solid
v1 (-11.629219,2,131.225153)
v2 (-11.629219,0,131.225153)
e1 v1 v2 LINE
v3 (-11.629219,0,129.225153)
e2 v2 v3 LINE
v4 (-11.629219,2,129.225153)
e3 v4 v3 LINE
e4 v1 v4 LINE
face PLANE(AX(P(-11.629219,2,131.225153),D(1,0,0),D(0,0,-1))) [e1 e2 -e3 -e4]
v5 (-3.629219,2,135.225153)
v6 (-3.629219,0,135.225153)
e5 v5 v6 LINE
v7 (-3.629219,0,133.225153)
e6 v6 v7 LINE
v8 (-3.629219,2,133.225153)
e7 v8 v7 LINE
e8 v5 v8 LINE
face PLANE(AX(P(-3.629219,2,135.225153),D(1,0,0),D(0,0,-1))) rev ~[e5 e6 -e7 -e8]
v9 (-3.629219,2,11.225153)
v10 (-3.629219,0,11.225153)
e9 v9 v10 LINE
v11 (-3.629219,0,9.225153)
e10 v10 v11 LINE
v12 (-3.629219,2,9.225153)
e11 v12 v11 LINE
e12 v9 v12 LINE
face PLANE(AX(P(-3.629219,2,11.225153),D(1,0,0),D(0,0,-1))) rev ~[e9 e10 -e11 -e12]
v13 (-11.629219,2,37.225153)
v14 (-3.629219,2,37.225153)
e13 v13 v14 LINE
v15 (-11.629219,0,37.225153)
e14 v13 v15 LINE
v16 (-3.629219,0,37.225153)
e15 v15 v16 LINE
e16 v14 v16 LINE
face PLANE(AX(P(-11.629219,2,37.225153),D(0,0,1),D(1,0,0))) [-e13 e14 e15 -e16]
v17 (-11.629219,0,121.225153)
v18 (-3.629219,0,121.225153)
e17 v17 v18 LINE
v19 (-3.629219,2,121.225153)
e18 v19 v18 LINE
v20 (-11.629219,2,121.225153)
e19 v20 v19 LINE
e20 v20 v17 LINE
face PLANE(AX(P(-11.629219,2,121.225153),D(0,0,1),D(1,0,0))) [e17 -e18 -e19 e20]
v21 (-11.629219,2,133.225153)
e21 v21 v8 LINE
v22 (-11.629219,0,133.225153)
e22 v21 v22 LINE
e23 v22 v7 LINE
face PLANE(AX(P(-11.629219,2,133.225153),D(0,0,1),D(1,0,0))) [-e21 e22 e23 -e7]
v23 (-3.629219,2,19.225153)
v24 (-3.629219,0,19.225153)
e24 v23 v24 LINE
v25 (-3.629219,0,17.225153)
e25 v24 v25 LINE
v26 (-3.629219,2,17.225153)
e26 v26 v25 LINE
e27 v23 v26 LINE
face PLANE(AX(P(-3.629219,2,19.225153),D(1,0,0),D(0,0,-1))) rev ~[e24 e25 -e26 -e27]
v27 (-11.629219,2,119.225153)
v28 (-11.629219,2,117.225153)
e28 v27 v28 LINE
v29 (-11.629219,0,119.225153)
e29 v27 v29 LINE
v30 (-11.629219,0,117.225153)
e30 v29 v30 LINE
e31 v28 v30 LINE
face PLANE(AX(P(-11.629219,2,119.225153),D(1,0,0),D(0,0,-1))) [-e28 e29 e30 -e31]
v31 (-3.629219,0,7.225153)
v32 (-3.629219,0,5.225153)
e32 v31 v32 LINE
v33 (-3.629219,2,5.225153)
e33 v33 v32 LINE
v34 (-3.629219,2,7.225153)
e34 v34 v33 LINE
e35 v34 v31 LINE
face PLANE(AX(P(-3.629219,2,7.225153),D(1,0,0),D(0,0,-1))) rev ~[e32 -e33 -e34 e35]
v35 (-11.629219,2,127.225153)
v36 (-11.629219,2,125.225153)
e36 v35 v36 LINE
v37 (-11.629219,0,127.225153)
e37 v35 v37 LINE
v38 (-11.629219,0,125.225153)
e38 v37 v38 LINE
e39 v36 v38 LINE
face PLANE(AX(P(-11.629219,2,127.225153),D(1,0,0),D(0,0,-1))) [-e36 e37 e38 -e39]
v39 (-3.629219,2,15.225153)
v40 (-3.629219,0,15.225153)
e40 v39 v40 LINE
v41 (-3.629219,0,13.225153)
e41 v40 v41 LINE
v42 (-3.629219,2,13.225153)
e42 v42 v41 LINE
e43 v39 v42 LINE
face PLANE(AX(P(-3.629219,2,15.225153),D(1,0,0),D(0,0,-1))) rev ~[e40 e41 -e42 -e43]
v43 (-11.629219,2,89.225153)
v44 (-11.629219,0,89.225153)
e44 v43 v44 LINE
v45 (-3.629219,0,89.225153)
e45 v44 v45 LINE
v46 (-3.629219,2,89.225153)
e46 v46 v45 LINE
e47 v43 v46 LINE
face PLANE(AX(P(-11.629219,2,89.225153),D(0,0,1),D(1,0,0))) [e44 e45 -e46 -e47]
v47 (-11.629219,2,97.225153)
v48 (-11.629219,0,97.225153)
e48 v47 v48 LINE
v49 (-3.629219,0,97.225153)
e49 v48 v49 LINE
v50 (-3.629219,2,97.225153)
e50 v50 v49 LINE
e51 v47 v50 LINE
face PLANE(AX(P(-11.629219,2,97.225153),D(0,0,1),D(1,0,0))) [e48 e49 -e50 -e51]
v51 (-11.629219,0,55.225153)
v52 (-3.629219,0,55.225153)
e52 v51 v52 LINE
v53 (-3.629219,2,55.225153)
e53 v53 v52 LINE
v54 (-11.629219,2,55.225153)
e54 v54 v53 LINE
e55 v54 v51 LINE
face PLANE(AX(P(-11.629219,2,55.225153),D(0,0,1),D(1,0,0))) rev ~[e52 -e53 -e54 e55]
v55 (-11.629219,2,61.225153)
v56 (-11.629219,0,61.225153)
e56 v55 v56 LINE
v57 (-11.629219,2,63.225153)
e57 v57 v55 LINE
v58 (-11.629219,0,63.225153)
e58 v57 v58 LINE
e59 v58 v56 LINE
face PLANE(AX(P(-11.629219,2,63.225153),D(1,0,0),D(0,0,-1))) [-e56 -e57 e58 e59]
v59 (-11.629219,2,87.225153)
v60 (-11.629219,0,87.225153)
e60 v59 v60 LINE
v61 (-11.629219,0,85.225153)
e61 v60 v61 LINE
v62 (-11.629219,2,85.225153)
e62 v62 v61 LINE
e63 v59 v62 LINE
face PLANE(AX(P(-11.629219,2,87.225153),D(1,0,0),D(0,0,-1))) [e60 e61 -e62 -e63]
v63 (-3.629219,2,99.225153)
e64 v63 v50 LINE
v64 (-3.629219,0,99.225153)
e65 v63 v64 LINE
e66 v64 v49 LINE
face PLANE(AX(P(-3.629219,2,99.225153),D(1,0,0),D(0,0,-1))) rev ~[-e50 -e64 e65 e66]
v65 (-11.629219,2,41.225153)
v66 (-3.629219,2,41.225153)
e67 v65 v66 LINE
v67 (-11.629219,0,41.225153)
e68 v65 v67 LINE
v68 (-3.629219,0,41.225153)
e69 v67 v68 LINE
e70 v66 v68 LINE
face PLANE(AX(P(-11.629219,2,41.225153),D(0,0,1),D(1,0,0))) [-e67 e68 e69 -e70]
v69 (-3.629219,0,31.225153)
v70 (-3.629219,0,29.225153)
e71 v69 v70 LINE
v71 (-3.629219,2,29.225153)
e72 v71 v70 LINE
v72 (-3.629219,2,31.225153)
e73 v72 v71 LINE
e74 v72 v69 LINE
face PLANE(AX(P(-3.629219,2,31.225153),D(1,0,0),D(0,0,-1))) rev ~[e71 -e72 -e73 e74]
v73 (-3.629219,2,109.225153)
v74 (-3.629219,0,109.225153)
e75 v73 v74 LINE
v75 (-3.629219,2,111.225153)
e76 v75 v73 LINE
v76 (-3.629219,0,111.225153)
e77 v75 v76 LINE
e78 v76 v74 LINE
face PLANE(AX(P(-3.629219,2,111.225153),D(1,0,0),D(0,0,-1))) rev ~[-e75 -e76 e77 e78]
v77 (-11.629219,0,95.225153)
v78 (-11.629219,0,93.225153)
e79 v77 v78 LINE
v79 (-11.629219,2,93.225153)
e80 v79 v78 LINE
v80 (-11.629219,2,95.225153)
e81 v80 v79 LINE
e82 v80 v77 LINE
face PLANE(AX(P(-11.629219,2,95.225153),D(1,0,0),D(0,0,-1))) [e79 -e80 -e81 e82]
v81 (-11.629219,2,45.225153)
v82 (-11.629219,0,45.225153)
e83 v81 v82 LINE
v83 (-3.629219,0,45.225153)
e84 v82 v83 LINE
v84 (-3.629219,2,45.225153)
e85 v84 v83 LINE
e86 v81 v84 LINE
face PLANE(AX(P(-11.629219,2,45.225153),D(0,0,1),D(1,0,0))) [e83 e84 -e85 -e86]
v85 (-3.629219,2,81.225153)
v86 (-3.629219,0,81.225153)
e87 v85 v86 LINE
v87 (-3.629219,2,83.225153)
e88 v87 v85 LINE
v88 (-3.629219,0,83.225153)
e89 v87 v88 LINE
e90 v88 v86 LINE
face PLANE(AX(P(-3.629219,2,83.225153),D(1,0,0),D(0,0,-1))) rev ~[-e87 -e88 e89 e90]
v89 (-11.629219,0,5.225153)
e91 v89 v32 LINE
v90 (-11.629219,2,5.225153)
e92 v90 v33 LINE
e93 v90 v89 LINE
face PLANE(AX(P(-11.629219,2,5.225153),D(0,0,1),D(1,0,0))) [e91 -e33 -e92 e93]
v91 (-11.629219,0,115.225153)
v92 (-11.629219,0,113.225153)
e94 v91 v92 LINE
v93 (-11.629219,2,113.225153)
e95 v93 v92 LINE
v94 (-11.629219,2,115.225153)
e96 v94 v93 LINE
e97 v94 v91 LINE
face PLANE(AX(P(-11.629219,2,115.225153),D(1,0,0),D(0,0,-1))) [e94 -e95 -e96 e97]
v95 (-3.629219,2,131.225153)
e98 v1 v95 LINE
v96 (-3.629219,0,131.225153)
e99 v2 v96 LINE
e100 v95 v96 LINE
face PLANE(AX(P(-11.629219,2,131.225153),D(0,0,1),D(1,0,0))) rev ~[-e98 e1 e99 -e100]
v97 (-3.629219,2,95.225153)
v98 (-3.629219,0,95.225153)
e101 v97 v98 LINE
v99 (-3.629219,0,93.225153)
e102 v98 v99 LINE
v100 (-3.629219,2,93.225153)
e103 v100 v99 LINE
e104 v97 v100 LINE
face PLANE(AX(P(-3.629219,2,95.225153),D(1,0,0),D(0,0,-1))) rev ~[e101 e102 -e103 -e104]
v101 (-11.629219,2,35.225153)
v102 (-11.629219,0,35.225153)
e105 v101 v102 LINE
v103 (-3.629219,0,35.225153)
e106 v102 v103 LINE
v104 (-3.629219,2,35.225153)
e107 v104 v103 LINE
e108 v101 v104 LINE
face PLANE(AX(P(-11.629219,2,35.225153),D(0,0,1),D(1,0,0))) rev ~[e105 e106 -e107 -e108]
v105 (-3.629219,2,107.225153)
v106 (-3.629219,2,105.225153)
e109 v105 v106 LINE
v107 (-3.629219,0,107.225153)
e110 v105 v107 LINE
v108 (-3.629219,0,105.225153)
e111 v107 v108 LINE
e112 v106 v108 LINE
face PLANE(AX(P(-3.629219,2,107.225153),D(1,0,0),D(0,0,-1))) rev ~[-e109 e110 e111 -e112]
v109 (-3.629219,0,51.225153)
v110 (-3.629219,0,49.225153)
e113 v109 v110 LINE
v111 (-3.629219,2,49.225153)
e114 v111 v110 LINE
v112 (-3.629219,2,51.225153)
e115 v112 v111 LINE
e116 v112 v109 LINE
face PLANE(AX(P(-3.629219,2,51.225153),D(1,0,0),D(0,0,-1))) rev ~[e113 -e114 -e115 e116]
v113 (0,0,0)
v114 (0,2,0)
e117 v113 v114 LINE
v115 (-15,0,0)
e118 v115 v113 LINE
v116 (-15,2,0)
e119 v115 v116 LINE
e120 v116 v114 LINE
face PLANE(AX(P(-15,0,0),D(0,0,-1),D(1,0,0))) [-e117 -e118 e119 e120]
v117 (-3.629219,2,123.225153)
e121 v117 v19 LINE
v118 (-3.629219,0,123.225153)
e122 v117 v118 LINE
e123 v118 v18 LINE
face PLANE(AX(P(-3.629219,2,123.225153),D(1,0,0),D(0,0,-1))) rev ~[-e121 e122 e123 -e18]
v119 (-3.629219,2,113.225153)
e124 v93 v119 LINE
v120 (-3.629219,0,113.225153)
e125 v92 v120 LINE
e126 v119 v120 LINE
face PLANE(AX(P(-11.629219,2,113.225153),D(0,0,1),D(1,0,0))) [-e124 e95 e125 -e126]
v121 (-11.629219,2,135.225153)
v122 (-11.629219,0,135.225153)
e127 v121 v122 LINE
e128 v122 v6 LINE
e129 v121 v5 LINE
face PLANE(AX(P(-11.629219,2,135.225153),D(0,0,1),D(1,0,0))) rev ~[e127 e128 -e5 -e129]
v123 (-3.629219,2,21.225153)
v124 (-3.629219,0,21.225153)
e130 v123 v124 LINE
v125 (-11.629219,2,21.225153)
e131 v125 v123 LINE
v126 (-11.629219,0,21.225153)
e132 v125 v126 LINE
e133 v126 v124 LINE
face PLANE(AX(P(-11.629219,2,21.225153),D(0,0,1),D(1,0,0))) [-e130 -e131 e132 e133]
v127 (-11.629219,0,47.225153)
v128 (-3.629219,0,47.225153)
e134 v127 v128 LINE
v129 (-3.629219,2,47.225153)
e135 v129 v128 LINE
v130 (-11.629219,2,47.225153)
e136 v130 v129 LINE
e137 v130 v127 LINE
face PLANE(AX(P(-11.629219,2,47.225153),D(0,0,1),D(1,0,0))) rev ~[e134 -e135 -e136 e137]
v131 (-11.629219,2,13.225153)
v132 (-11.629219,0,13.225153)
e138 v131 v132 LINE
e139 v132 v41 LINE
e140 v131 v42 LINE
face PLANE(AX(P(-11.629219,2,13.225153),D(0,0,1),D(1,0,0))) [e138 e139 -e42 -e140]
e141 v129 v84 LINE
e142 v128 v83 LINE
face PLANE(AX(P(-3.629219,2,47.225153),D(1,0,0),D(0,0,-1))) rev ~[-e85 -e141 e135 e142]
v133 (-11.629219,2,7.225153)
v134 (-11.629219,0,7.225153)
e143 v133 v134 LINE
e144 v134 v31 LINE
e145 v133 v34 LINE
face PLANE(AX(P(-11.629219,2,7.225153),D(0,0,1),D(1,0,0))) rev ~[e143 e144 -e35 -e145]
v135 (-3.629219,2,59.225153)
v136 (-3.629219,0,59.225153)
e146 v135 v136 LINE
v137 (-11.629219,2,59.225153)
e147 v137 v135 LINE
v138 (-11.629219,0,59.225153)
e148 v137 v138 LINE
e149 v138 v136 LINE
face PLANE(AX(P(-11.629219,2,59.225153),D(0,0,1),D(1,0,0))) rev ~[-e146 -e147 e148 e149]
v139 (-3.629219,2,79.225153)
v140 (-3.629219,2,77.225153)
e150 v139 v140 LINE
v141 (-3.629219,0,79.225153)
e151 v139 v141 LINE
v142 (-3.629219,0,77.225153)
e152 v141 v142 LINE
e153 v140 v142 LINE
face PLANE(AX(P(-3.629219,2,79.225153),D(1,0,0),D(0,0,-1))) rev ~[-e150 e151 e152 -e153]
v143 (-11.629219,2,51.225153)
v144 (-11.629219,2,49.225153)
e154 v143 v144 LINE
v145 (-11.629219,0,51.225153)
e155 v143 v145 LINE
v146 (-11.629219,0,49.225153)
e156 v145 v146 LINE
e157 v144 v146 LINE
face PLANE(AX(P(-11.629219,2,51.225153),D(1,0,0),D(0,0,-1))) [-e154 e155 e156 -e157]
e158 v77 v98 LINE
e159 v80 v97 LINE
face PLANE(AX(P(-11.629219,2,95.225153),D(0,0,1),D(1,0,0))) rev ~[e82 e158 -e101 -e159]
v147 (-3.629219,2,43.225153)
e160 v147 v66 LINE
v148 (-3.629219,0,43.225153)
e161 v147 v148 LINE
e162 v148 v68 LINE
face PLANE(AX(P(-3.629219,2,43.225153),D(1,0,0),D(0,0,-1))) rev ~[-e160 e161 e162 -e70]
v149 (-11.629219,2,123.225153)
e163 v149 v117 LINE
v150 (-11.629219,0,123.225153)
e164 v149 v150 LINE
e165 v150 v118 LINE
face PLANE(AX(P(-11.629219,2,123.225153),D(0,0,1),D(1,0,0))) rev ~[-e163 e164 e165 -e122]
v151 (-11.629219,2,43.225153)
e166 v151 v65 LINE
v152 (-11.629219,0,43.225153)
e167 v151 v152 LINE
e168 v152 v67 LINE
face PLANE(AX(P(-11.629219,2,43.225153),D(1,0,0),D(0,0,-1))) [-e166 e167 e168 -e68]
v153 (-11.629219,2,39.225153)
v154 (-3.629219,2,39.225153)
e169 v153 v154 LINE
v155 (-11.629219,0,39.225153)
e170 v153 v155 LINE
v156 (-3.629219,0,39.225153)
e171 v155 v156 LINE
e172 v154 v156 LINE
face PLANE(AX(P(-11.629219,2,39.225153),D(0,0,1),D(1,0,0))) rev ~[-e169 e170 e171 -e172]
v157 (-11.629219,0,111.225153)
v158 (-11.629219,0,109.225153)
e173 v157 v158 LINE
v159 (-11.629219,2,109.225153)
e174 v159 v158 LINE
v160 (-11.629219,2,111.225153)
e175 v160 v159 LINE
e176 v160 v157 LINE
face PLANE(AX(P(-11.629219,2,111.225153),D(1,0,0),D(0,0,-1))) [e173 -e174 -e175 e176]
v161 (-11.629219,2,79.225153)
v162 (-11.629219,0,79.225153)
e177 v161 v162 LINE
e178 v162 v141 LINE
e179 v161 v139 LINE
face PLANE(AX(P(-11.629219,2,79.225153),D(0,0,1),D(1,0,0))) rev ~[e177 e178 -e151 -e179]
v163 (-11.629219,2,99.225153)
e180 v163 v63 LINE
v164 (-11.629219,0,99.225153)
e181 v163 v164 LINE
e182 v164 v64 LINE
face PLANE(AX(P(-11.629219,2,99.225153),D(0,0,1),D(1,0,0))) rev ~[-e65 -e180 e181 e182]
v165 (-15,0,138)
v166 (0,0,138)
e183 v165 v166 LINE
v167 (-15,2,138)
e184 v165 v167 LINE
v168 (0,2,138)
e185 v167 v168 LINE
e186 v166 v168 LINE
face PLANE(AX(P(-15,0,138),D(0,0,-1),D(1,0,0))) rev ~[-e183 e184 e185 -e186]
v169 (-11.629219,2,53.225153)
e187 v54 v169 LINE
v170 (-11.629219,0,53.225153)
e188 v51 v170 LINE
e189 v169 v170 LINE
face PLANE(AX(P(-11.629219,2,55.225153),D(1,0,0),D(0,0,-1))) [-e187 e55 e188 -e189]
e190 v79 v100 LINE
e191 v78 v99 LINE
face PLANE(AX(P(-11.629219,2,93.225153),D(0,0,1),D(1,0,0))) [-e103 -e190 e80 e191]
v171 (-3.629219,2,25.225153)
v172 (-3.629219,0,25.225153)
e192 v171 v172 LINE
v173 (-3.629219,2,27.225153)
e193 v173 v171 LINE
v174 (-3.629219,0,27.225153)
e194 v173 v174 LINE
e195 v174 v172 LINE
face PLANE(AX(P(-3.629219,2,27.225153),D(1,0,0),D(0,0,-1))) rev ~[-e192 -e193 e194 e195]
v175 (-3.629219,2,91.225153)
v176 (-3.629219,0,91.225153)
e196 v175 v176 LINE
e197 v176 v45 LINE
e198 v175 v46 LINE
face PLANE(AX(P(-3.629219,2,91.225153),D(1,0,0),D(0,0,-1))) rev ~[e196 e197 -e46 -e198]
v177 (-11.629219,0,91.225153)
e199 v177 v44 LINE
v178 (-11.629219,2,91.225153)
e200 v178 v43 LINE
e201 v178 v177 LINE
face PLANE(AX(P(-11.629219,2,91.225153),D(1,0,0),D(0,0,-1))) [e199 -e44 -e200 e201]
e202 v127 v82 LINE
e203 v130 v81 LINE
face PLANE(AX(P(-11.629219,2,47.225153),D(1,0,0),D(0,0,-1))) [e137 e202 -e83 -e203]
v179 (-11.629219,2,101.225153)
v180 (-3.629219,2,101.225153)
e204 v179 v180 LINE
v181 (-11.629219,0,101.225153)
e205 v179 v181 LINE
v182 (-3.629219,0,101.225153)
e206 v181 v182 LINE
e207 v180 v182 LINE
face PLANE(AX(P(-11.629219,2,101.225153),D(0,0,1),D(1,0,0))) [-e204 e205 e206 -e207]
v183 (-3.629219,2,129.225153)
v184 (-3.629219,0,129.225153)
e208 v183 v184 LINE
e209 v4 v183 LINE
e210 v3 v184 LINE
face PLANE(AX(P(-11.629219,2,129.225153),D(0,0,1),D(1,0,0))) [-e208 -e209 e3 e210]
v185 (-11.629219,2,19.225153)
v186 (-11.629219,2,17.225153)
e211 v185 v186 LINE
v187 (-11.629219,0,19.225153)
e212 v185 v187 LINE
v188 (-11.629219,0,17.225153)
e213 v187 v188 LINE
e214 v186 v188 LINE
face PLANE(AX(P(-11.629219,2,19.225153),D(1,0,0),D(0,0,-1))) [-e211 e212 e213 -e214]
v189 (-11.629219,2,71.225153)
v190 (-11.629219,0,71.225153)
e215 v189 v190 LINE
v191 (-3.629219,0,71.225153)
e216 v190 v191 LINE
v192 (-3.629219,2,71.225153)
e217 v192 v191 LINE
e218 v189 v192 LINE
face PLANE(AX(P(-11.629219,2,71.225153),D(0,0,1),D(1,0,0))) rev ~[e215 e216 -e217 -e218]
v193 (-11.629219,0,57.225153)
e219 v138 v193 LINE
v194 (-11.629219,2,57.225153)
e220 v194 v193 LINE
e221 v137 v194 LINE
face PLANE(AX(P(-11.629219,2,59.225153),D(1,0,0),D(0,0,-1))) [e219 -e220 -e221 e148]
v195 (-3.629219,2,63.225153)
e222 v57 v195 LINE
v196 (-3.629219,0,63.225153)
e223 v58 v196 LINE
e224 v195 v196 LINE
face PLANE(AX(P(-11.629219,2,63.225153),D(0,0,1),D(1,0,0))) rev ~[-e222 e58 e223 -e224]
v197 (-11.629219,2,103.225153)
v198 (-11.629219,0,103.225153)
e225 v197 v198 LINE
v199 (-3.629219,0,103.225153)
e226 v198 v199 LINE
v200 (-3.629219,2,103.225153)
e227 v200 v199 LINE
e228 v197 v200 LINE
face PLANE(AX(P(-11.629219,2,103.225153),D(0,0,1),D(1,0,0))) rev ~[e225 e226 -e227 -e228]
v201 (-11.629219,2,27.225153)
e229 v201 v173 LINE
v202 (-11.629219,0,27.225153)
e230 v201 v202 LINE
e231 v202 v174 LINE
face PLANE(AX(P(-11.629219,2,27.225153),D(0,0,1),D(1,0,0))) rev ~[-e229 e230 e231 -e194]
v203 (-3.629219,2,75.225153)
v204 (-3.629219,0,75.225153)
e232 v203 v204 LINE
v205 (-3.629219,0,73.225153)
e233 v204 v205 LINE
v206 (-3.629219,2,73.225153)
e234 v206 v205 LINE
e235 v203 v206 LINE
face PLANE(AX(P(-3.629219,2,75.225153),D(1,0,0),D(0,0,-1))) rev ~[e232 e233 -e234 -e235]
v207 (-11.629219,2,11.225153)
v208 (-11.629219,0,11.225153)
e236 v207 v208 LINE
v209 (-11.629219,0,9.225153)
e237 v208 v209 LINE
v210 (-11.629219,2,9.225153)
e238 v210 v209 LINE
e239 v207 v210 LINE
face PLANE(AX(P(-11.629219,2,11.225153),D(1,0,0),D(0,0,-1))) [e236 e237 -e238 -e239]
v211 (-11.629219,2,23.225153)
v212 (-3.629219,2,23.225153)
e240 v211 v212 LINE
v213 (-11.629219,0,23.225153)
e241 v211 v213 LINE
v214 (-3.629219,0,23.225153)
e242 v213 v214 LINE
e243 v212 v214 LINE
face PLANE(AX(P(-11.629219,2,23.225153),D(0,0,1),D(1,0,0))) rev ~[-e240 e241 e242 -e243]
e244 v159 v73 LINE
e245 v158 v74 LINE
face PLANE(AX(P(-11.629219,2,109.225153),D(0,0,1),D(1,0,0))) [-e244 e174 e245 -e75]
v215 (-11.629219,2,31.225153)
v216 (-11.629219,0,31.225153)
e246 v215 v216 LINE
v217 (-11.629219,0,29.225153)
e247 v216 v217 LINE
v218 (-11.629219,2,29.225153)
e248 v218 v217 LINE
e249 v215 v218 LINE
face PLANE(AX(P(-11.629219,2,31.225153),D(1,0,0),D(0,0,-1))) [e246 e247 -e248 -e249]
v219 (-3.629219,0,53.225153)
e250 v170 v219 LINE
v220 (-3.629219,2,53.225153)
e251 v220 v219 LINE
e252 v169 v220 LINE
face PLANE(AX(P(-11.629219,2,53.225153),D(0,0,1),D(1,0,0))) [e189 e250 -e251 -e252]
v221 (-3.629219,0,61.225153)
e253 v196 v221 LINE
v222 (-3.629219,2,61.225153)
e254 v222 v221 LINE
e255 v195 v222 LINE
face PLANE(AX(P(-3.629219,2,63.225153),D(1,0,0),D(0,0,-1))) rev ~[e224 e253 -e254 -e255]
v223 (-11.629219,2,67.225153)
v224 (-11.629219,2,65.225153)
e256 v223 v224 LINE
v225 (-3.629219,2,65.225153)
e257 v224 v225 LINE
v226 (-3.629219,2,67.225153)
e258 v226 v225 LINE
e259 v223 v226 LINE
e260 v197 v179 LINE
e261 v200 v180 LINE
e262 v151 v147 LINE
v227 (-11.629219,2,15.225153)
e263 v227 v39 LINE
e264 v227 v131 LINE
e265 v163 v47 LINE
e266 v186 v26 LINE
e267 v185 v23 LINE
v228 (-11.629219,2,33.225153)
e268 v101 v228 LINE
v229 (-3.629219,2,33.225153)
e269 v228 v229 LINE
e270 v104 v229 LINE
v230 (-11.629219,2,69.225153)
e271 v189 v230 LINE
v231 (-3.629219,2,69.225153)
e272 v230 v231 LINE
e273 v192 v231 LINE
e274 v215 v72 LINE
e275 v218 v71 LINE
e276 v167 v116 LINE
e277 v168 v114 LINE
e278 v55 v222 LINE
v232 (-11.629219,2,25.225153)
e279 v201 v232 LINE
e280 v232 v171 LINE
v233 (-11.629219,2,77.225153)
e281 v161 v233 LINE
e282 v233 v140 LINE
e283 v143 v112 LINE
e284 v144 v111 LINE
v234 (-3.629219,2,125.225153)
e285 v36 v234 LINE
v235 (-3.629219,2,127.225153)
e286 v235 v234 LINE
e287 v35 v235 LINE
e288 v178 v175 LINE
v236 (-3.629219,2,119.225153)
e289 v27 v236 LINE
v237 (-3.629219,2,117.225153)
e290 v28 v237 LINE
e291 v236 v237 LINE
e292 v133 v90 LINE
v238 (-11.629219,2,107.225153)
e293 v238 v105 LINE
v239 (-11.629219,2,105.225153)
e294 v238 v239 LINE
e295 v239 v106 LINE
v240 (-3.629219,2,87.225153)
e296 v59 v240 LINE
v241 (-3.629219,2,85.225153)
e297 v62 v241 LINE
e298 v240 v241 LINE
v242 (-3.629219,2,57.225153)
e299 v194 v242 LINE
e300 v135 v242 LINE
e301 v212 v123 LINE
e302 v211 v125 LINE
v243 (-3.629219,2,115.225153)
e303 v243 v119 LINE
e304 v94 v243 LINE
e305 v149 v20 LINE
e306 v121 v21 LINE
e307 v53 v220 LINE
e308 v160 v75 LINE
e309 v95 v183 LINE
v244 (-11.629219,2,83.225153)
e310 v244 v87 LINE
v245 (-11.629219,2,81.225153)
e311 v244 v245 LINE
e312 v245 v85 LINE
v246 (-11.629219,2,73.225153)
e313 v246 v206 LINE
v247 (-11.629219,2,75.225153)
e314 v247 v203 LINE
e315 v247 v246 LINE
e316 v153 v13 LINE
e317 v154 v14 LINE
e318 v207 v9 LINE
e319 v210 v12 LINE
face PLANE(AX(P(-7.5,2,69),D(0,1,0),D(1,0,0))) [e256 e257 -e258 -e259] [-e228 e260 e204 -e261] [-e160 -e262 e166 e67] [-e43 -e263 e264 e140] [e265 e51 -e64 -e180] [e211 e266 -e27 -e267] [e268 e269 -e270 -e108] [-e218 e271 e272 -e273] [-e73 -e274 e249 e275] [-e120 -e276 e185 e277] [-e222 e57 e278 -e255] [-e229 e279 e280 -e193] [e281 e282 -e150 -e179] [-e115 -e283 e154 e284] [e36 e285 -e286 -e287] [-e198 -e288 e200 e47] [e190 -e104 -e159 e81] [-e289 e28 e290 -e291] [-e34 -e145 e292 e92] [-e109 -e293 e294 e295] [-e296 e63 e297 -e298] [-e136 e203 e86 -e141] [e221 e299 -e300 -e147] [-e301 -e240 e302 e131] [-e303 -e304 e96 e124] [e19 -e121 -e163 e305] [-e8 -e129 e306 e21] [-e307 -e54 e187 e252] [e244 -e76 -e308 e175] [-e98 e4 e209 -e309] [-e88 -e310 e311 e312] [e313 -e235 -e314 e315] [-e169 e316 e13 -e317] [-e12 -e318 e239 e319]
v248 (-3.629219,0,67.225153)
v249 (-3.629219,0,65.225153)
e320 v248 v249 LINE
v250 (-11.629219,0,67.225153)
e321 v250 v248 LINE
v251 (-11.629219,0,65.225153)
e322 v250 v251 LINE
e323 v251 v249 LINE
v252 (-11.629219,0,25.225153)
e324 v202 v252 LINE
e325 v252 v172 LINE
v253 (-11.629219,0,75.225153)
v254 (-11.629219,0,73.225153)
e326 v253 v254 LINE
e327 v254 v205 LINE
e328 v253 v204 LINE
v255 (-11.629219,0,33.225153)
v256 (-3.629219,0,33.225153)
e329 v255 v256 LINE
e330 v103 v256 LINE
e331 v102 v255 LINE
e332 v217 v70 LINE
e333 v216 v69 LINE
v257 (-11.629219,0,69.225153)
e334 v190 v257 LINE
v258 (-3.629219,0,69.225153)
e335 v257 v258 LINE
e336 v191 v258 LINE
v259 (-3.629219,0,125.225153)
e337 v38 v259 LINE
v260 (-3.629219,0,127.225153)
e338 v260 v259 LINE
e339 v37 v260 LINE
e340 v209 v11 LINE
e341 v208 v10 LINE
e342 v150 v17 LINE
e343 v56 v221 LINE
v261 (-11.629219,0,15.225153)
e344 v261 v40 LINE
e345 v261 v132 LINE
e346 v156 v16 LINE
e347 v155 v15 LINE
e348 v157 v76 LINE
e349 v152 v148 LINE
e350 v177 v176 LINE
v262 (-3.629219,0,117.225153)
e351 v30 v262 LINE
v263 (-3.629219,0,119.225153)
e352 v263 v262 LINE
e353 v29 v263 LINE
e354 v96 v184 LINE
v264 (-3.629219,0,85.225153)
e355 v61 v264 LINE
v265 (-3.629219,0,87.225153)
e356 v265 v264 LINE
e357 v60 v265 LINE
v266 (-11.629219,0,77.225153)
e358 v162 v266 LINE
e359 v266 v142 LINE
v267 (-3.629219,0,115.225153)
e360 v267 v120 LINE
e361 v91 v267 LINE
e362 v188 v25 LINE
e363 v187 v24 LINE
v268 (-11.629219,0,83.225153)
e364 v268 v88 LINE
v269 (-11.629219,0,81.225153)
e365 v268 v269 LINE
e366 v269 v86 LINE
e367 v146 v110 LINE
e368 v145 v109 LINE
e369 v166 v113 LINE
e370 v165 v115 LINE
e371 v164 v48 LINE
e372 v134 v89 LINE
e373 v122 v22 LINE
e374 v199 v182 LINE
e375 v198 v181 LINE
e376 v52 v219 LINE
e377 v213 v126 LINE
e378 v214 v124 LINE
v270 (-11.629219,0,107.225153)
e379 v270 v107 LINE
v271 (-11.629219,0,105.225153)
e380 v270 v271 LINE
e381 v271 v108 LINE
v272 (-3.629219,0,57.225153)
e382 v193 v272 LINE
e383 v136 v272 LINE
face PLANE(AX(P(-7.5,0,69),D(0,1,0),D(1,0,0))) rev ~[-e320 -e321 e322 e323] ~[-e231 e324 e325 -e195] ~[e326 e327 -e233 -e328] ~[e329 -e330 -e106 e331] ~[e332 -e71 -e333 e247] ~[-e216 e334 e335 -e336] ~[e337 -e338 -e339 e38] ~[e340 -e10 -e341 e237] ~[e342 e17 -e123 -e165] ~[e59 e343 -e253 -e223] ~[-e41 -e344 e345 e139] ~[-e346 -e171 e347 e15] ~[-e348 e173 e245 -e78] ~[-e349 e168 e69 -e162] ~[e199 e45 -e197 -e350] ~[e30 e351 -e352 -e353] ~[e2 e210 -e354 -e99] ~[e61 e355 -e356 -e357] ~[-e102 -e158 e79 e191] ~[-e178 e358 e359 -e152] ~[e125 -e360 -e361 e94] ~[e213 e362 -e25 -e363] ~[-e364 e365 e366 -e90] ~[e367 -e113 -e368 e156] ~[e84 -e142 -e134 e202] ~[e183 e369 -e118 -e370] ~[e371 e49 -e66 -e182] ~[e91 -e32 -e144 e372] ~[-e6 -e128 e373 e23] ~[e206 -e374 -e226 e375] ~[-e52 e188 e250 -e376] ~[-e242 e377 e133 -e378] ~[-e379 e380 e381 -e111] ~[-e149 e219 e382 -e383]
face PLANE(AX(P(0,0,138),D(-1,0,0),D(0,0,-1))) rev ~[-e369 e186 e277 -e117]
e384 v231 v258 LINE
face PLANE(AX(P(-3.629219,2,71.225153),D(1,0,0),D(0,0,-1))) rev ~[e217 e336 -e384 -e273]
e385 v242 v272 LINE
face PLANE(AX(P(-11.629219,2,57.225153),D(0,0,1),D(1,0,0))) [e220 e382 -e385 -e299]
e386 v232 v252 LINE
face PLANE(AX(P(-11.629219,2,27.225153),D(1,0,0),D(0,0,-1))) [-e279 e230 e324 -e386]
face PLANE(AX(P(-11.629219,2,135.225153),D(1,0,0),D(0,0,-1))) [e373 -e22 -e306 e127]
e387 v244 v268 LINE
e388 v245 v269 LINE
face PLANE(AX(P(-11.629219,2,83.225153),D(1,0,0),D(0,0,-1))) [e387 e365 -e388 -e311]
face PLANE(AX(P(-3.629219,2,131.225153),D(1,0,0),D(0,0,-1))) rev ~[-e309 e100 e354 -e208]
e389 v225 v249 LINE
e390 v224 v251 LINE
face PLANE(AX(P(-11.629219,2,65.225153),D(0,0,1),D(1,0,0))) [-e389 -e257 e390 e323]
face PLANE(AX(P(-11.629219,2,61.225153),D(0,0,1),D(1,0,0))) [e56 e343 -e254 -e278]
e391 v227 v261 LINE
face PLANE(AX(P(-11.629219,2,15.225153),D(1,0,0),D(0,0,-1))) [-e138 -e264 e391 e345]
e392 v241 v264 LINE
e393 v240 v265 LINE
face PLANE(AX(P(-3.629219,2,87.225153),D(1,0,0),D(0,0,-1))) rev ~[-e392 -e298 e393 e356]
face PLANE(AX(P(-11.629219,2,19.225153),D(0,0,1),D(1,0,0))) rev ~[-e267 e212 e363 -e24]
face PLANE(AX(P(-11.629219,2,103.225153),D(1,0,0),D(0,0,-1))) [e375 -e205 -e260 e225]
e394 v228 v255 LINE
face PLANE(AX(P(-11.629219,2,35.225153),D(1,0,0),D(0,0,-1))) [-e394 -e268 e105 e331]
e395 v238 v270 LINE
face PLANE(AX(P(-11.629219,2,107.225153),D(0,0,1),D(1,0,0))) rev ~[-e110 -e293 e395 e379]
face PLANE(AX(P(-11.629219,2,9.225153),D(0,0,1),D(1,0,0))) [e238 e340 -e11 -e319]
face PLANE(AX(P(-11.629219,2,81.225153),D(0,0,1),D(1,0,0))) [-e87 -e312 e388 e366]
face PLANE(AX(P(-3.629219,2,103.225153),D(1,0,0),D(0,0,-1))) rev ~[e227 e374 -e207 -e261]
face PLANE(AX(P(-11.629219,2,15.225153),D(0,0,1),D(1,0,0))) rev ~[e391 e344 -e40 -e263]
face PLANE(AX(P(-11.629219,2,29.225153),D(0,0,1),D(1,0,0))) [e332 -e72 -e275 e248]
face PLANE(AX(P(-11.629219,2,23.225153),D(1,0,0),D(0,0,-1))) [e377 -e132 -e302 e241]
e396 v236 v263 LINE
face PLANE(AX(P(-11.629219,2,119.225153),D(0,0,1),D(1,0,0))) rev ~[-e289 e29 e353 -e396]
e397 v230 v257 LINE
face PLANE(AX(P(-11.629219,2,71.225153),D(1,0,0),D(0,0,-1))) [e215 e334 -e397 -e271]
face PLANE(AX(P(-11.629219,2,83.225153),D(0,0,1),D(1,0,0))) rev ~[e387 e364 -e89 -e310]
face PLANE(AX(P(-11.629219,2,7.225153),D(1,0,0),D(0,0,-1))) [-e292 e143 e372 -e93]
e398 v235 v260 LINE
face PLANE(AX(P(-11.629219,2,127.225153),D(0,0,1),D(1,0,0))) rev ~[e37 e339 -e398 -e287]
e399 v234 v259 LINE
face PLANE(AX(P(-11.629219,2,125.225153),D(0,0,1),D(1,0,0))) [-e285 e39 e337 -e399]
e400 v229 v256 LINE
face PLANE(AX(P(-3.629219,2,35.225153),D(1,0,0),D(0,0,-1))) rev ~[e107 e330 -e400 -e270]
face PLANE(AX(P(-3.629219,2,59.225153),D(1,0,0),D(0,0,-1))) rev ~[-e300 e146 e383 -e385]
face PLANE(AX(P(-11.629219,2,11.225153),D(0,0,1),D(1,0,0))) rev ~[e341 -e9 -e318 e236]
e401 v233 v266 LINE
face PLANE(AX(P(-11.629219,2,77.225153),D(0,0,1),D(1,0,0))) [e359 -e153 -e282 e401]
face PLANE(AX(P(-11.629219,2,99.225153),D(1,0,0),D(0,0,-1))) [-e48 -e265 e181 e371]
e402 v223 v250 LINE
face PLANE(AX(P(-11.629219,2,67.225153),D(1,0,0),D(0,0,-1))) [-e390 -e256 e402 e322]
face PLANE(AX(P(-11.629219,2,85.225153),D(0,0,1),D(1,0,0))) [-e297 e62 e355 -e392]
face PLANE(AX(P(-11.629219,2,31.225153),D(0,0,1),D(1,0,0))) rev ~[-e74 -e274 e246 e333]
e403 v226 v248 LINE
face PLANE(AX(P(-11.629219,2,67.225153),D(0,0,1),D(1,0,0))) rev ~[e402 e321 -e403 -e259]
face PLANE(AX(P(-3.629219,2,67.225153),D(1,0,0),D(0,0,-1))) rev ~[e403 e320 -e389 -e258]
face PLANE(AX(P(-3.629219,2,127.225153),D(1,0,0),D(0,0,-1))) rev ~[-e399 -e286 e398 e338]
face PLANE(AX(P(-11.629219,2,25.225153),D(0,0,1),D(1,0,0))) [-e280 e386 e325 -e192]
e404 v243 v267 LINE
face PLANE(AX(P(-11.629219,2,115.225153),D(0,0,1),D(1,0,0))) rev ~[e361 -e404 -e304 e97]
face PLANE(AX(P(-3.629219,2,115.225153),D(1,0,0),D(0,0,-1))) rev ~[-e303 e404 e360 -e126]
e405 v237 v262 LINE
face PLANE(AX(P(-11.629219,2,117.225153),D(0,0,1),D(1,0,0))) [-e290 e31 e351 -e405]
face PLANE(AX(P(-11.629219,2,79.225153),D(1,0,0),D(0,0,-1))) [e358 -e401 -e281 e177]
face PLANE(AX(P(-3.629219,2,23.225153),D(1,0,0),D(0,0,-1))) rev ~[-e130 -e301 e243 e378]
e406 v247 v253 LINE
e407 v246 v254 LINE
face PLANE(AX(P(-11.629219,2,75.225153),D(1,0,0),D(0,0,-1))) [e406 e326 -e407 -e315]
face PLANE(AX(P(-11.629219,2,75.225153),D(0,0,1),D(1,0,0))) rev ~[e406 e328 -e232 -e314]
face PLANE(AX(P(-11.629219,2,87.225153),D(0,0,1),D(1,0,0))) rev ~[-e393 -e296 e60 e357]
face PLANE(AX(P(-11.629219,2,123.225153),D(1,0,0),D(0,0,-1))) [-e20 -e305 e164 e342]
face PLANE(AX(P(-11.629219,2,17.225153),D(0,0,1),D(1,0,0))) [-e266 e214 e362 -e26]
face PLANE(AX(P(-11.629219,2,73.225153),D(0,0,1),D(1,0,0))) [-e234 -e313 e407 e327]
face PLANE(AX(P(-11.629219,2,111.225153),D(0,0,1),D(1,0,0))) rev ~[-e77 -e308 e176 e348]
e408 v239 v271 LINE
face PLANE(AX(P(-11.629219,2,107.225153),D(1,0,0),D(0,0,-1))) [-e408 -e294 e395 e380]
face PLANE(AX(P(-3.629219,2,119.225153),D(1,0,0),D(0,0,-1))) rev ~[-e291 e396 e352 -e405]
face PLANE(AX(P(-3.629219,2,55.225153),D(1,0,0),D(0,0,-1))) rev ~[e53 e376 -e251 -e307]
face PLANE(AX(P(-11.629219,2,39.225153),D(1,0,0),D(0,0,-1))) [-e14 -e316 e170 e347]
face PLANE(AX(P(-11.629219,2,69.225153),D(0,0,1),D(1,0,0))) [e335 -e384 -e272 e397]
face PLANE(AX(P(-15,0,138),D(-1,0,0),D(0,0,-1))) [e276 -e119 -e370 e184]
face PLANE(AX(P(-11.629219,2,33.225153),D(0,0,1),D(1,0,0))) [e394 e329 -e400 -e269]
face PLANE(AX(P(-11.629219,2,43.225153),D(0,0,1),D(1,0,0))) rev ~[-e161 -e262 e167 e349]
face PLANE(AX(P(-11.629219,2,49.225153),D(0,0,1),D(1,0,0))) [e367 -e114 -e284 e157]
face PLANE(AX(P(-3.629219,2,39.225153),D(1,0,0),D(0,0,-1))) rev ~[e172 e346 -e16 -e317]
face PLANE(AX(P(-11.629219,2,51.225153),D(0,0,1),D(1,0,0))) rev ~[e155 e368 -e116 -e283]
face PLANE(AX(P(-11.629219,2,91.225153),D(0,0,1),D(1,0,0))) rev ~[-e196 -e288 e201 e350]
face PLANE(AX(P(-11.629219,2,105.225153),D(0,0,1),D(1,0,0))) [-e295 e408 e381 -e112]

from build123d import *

# Parameters (mm, degrees)
SKETCH1_W           = 15
SKETCH1_H           = 138
BOSS_EXTRUDE1_DEPTH = 2
SKETCH2_W           = 8
SKETCH2_H           = 2
CUT_EXTRUDE1_DEPTH  = 139.827230758
LPATTERN1_COUNT     = 33
LPATTERN1_PITCH     = 4


with BuildPart() as part:
    # Sketch1 → Boss-Extrude1 (new body)
    with BuildSketch(Plane(origin=(0, 0, 0), x_dir=(1, 0, 0), z_dir=(0, 1, 0))):
        with Locations((-7.5, -69)):
            Rectangle(SKETCH1_W, SKETCH1_H)
    extrude(amount=BOSS_EXTRUDE1_DEPTH)

    # Sketch2 → Cut-Extrude1 (cut, through all)
    with BuildSketch(Plane(origin=(0, 2, 0), x_dir=(1, 0, 0), z_dir=(0, 1, 0))):
        with Locations((-7.629218666, -6.225153301)):
            Rectangle(SKETCH2_W, SKETCH2_H)
    cut_extrude1 = extrude(amount=-CUT_EXTRUDE1_DEPTH, mode=Mode.SUBTRACT)

    # LPattern1: Cut-Extrude1 ×33
    with Locations(*[(0, 0, i * LPATTERN1_PITCH) for i in range(1, LPATTERN1_COUNT)]):
        add(cut_extrude1, mode=Mode.SUBTRACT)


solid = part.part
